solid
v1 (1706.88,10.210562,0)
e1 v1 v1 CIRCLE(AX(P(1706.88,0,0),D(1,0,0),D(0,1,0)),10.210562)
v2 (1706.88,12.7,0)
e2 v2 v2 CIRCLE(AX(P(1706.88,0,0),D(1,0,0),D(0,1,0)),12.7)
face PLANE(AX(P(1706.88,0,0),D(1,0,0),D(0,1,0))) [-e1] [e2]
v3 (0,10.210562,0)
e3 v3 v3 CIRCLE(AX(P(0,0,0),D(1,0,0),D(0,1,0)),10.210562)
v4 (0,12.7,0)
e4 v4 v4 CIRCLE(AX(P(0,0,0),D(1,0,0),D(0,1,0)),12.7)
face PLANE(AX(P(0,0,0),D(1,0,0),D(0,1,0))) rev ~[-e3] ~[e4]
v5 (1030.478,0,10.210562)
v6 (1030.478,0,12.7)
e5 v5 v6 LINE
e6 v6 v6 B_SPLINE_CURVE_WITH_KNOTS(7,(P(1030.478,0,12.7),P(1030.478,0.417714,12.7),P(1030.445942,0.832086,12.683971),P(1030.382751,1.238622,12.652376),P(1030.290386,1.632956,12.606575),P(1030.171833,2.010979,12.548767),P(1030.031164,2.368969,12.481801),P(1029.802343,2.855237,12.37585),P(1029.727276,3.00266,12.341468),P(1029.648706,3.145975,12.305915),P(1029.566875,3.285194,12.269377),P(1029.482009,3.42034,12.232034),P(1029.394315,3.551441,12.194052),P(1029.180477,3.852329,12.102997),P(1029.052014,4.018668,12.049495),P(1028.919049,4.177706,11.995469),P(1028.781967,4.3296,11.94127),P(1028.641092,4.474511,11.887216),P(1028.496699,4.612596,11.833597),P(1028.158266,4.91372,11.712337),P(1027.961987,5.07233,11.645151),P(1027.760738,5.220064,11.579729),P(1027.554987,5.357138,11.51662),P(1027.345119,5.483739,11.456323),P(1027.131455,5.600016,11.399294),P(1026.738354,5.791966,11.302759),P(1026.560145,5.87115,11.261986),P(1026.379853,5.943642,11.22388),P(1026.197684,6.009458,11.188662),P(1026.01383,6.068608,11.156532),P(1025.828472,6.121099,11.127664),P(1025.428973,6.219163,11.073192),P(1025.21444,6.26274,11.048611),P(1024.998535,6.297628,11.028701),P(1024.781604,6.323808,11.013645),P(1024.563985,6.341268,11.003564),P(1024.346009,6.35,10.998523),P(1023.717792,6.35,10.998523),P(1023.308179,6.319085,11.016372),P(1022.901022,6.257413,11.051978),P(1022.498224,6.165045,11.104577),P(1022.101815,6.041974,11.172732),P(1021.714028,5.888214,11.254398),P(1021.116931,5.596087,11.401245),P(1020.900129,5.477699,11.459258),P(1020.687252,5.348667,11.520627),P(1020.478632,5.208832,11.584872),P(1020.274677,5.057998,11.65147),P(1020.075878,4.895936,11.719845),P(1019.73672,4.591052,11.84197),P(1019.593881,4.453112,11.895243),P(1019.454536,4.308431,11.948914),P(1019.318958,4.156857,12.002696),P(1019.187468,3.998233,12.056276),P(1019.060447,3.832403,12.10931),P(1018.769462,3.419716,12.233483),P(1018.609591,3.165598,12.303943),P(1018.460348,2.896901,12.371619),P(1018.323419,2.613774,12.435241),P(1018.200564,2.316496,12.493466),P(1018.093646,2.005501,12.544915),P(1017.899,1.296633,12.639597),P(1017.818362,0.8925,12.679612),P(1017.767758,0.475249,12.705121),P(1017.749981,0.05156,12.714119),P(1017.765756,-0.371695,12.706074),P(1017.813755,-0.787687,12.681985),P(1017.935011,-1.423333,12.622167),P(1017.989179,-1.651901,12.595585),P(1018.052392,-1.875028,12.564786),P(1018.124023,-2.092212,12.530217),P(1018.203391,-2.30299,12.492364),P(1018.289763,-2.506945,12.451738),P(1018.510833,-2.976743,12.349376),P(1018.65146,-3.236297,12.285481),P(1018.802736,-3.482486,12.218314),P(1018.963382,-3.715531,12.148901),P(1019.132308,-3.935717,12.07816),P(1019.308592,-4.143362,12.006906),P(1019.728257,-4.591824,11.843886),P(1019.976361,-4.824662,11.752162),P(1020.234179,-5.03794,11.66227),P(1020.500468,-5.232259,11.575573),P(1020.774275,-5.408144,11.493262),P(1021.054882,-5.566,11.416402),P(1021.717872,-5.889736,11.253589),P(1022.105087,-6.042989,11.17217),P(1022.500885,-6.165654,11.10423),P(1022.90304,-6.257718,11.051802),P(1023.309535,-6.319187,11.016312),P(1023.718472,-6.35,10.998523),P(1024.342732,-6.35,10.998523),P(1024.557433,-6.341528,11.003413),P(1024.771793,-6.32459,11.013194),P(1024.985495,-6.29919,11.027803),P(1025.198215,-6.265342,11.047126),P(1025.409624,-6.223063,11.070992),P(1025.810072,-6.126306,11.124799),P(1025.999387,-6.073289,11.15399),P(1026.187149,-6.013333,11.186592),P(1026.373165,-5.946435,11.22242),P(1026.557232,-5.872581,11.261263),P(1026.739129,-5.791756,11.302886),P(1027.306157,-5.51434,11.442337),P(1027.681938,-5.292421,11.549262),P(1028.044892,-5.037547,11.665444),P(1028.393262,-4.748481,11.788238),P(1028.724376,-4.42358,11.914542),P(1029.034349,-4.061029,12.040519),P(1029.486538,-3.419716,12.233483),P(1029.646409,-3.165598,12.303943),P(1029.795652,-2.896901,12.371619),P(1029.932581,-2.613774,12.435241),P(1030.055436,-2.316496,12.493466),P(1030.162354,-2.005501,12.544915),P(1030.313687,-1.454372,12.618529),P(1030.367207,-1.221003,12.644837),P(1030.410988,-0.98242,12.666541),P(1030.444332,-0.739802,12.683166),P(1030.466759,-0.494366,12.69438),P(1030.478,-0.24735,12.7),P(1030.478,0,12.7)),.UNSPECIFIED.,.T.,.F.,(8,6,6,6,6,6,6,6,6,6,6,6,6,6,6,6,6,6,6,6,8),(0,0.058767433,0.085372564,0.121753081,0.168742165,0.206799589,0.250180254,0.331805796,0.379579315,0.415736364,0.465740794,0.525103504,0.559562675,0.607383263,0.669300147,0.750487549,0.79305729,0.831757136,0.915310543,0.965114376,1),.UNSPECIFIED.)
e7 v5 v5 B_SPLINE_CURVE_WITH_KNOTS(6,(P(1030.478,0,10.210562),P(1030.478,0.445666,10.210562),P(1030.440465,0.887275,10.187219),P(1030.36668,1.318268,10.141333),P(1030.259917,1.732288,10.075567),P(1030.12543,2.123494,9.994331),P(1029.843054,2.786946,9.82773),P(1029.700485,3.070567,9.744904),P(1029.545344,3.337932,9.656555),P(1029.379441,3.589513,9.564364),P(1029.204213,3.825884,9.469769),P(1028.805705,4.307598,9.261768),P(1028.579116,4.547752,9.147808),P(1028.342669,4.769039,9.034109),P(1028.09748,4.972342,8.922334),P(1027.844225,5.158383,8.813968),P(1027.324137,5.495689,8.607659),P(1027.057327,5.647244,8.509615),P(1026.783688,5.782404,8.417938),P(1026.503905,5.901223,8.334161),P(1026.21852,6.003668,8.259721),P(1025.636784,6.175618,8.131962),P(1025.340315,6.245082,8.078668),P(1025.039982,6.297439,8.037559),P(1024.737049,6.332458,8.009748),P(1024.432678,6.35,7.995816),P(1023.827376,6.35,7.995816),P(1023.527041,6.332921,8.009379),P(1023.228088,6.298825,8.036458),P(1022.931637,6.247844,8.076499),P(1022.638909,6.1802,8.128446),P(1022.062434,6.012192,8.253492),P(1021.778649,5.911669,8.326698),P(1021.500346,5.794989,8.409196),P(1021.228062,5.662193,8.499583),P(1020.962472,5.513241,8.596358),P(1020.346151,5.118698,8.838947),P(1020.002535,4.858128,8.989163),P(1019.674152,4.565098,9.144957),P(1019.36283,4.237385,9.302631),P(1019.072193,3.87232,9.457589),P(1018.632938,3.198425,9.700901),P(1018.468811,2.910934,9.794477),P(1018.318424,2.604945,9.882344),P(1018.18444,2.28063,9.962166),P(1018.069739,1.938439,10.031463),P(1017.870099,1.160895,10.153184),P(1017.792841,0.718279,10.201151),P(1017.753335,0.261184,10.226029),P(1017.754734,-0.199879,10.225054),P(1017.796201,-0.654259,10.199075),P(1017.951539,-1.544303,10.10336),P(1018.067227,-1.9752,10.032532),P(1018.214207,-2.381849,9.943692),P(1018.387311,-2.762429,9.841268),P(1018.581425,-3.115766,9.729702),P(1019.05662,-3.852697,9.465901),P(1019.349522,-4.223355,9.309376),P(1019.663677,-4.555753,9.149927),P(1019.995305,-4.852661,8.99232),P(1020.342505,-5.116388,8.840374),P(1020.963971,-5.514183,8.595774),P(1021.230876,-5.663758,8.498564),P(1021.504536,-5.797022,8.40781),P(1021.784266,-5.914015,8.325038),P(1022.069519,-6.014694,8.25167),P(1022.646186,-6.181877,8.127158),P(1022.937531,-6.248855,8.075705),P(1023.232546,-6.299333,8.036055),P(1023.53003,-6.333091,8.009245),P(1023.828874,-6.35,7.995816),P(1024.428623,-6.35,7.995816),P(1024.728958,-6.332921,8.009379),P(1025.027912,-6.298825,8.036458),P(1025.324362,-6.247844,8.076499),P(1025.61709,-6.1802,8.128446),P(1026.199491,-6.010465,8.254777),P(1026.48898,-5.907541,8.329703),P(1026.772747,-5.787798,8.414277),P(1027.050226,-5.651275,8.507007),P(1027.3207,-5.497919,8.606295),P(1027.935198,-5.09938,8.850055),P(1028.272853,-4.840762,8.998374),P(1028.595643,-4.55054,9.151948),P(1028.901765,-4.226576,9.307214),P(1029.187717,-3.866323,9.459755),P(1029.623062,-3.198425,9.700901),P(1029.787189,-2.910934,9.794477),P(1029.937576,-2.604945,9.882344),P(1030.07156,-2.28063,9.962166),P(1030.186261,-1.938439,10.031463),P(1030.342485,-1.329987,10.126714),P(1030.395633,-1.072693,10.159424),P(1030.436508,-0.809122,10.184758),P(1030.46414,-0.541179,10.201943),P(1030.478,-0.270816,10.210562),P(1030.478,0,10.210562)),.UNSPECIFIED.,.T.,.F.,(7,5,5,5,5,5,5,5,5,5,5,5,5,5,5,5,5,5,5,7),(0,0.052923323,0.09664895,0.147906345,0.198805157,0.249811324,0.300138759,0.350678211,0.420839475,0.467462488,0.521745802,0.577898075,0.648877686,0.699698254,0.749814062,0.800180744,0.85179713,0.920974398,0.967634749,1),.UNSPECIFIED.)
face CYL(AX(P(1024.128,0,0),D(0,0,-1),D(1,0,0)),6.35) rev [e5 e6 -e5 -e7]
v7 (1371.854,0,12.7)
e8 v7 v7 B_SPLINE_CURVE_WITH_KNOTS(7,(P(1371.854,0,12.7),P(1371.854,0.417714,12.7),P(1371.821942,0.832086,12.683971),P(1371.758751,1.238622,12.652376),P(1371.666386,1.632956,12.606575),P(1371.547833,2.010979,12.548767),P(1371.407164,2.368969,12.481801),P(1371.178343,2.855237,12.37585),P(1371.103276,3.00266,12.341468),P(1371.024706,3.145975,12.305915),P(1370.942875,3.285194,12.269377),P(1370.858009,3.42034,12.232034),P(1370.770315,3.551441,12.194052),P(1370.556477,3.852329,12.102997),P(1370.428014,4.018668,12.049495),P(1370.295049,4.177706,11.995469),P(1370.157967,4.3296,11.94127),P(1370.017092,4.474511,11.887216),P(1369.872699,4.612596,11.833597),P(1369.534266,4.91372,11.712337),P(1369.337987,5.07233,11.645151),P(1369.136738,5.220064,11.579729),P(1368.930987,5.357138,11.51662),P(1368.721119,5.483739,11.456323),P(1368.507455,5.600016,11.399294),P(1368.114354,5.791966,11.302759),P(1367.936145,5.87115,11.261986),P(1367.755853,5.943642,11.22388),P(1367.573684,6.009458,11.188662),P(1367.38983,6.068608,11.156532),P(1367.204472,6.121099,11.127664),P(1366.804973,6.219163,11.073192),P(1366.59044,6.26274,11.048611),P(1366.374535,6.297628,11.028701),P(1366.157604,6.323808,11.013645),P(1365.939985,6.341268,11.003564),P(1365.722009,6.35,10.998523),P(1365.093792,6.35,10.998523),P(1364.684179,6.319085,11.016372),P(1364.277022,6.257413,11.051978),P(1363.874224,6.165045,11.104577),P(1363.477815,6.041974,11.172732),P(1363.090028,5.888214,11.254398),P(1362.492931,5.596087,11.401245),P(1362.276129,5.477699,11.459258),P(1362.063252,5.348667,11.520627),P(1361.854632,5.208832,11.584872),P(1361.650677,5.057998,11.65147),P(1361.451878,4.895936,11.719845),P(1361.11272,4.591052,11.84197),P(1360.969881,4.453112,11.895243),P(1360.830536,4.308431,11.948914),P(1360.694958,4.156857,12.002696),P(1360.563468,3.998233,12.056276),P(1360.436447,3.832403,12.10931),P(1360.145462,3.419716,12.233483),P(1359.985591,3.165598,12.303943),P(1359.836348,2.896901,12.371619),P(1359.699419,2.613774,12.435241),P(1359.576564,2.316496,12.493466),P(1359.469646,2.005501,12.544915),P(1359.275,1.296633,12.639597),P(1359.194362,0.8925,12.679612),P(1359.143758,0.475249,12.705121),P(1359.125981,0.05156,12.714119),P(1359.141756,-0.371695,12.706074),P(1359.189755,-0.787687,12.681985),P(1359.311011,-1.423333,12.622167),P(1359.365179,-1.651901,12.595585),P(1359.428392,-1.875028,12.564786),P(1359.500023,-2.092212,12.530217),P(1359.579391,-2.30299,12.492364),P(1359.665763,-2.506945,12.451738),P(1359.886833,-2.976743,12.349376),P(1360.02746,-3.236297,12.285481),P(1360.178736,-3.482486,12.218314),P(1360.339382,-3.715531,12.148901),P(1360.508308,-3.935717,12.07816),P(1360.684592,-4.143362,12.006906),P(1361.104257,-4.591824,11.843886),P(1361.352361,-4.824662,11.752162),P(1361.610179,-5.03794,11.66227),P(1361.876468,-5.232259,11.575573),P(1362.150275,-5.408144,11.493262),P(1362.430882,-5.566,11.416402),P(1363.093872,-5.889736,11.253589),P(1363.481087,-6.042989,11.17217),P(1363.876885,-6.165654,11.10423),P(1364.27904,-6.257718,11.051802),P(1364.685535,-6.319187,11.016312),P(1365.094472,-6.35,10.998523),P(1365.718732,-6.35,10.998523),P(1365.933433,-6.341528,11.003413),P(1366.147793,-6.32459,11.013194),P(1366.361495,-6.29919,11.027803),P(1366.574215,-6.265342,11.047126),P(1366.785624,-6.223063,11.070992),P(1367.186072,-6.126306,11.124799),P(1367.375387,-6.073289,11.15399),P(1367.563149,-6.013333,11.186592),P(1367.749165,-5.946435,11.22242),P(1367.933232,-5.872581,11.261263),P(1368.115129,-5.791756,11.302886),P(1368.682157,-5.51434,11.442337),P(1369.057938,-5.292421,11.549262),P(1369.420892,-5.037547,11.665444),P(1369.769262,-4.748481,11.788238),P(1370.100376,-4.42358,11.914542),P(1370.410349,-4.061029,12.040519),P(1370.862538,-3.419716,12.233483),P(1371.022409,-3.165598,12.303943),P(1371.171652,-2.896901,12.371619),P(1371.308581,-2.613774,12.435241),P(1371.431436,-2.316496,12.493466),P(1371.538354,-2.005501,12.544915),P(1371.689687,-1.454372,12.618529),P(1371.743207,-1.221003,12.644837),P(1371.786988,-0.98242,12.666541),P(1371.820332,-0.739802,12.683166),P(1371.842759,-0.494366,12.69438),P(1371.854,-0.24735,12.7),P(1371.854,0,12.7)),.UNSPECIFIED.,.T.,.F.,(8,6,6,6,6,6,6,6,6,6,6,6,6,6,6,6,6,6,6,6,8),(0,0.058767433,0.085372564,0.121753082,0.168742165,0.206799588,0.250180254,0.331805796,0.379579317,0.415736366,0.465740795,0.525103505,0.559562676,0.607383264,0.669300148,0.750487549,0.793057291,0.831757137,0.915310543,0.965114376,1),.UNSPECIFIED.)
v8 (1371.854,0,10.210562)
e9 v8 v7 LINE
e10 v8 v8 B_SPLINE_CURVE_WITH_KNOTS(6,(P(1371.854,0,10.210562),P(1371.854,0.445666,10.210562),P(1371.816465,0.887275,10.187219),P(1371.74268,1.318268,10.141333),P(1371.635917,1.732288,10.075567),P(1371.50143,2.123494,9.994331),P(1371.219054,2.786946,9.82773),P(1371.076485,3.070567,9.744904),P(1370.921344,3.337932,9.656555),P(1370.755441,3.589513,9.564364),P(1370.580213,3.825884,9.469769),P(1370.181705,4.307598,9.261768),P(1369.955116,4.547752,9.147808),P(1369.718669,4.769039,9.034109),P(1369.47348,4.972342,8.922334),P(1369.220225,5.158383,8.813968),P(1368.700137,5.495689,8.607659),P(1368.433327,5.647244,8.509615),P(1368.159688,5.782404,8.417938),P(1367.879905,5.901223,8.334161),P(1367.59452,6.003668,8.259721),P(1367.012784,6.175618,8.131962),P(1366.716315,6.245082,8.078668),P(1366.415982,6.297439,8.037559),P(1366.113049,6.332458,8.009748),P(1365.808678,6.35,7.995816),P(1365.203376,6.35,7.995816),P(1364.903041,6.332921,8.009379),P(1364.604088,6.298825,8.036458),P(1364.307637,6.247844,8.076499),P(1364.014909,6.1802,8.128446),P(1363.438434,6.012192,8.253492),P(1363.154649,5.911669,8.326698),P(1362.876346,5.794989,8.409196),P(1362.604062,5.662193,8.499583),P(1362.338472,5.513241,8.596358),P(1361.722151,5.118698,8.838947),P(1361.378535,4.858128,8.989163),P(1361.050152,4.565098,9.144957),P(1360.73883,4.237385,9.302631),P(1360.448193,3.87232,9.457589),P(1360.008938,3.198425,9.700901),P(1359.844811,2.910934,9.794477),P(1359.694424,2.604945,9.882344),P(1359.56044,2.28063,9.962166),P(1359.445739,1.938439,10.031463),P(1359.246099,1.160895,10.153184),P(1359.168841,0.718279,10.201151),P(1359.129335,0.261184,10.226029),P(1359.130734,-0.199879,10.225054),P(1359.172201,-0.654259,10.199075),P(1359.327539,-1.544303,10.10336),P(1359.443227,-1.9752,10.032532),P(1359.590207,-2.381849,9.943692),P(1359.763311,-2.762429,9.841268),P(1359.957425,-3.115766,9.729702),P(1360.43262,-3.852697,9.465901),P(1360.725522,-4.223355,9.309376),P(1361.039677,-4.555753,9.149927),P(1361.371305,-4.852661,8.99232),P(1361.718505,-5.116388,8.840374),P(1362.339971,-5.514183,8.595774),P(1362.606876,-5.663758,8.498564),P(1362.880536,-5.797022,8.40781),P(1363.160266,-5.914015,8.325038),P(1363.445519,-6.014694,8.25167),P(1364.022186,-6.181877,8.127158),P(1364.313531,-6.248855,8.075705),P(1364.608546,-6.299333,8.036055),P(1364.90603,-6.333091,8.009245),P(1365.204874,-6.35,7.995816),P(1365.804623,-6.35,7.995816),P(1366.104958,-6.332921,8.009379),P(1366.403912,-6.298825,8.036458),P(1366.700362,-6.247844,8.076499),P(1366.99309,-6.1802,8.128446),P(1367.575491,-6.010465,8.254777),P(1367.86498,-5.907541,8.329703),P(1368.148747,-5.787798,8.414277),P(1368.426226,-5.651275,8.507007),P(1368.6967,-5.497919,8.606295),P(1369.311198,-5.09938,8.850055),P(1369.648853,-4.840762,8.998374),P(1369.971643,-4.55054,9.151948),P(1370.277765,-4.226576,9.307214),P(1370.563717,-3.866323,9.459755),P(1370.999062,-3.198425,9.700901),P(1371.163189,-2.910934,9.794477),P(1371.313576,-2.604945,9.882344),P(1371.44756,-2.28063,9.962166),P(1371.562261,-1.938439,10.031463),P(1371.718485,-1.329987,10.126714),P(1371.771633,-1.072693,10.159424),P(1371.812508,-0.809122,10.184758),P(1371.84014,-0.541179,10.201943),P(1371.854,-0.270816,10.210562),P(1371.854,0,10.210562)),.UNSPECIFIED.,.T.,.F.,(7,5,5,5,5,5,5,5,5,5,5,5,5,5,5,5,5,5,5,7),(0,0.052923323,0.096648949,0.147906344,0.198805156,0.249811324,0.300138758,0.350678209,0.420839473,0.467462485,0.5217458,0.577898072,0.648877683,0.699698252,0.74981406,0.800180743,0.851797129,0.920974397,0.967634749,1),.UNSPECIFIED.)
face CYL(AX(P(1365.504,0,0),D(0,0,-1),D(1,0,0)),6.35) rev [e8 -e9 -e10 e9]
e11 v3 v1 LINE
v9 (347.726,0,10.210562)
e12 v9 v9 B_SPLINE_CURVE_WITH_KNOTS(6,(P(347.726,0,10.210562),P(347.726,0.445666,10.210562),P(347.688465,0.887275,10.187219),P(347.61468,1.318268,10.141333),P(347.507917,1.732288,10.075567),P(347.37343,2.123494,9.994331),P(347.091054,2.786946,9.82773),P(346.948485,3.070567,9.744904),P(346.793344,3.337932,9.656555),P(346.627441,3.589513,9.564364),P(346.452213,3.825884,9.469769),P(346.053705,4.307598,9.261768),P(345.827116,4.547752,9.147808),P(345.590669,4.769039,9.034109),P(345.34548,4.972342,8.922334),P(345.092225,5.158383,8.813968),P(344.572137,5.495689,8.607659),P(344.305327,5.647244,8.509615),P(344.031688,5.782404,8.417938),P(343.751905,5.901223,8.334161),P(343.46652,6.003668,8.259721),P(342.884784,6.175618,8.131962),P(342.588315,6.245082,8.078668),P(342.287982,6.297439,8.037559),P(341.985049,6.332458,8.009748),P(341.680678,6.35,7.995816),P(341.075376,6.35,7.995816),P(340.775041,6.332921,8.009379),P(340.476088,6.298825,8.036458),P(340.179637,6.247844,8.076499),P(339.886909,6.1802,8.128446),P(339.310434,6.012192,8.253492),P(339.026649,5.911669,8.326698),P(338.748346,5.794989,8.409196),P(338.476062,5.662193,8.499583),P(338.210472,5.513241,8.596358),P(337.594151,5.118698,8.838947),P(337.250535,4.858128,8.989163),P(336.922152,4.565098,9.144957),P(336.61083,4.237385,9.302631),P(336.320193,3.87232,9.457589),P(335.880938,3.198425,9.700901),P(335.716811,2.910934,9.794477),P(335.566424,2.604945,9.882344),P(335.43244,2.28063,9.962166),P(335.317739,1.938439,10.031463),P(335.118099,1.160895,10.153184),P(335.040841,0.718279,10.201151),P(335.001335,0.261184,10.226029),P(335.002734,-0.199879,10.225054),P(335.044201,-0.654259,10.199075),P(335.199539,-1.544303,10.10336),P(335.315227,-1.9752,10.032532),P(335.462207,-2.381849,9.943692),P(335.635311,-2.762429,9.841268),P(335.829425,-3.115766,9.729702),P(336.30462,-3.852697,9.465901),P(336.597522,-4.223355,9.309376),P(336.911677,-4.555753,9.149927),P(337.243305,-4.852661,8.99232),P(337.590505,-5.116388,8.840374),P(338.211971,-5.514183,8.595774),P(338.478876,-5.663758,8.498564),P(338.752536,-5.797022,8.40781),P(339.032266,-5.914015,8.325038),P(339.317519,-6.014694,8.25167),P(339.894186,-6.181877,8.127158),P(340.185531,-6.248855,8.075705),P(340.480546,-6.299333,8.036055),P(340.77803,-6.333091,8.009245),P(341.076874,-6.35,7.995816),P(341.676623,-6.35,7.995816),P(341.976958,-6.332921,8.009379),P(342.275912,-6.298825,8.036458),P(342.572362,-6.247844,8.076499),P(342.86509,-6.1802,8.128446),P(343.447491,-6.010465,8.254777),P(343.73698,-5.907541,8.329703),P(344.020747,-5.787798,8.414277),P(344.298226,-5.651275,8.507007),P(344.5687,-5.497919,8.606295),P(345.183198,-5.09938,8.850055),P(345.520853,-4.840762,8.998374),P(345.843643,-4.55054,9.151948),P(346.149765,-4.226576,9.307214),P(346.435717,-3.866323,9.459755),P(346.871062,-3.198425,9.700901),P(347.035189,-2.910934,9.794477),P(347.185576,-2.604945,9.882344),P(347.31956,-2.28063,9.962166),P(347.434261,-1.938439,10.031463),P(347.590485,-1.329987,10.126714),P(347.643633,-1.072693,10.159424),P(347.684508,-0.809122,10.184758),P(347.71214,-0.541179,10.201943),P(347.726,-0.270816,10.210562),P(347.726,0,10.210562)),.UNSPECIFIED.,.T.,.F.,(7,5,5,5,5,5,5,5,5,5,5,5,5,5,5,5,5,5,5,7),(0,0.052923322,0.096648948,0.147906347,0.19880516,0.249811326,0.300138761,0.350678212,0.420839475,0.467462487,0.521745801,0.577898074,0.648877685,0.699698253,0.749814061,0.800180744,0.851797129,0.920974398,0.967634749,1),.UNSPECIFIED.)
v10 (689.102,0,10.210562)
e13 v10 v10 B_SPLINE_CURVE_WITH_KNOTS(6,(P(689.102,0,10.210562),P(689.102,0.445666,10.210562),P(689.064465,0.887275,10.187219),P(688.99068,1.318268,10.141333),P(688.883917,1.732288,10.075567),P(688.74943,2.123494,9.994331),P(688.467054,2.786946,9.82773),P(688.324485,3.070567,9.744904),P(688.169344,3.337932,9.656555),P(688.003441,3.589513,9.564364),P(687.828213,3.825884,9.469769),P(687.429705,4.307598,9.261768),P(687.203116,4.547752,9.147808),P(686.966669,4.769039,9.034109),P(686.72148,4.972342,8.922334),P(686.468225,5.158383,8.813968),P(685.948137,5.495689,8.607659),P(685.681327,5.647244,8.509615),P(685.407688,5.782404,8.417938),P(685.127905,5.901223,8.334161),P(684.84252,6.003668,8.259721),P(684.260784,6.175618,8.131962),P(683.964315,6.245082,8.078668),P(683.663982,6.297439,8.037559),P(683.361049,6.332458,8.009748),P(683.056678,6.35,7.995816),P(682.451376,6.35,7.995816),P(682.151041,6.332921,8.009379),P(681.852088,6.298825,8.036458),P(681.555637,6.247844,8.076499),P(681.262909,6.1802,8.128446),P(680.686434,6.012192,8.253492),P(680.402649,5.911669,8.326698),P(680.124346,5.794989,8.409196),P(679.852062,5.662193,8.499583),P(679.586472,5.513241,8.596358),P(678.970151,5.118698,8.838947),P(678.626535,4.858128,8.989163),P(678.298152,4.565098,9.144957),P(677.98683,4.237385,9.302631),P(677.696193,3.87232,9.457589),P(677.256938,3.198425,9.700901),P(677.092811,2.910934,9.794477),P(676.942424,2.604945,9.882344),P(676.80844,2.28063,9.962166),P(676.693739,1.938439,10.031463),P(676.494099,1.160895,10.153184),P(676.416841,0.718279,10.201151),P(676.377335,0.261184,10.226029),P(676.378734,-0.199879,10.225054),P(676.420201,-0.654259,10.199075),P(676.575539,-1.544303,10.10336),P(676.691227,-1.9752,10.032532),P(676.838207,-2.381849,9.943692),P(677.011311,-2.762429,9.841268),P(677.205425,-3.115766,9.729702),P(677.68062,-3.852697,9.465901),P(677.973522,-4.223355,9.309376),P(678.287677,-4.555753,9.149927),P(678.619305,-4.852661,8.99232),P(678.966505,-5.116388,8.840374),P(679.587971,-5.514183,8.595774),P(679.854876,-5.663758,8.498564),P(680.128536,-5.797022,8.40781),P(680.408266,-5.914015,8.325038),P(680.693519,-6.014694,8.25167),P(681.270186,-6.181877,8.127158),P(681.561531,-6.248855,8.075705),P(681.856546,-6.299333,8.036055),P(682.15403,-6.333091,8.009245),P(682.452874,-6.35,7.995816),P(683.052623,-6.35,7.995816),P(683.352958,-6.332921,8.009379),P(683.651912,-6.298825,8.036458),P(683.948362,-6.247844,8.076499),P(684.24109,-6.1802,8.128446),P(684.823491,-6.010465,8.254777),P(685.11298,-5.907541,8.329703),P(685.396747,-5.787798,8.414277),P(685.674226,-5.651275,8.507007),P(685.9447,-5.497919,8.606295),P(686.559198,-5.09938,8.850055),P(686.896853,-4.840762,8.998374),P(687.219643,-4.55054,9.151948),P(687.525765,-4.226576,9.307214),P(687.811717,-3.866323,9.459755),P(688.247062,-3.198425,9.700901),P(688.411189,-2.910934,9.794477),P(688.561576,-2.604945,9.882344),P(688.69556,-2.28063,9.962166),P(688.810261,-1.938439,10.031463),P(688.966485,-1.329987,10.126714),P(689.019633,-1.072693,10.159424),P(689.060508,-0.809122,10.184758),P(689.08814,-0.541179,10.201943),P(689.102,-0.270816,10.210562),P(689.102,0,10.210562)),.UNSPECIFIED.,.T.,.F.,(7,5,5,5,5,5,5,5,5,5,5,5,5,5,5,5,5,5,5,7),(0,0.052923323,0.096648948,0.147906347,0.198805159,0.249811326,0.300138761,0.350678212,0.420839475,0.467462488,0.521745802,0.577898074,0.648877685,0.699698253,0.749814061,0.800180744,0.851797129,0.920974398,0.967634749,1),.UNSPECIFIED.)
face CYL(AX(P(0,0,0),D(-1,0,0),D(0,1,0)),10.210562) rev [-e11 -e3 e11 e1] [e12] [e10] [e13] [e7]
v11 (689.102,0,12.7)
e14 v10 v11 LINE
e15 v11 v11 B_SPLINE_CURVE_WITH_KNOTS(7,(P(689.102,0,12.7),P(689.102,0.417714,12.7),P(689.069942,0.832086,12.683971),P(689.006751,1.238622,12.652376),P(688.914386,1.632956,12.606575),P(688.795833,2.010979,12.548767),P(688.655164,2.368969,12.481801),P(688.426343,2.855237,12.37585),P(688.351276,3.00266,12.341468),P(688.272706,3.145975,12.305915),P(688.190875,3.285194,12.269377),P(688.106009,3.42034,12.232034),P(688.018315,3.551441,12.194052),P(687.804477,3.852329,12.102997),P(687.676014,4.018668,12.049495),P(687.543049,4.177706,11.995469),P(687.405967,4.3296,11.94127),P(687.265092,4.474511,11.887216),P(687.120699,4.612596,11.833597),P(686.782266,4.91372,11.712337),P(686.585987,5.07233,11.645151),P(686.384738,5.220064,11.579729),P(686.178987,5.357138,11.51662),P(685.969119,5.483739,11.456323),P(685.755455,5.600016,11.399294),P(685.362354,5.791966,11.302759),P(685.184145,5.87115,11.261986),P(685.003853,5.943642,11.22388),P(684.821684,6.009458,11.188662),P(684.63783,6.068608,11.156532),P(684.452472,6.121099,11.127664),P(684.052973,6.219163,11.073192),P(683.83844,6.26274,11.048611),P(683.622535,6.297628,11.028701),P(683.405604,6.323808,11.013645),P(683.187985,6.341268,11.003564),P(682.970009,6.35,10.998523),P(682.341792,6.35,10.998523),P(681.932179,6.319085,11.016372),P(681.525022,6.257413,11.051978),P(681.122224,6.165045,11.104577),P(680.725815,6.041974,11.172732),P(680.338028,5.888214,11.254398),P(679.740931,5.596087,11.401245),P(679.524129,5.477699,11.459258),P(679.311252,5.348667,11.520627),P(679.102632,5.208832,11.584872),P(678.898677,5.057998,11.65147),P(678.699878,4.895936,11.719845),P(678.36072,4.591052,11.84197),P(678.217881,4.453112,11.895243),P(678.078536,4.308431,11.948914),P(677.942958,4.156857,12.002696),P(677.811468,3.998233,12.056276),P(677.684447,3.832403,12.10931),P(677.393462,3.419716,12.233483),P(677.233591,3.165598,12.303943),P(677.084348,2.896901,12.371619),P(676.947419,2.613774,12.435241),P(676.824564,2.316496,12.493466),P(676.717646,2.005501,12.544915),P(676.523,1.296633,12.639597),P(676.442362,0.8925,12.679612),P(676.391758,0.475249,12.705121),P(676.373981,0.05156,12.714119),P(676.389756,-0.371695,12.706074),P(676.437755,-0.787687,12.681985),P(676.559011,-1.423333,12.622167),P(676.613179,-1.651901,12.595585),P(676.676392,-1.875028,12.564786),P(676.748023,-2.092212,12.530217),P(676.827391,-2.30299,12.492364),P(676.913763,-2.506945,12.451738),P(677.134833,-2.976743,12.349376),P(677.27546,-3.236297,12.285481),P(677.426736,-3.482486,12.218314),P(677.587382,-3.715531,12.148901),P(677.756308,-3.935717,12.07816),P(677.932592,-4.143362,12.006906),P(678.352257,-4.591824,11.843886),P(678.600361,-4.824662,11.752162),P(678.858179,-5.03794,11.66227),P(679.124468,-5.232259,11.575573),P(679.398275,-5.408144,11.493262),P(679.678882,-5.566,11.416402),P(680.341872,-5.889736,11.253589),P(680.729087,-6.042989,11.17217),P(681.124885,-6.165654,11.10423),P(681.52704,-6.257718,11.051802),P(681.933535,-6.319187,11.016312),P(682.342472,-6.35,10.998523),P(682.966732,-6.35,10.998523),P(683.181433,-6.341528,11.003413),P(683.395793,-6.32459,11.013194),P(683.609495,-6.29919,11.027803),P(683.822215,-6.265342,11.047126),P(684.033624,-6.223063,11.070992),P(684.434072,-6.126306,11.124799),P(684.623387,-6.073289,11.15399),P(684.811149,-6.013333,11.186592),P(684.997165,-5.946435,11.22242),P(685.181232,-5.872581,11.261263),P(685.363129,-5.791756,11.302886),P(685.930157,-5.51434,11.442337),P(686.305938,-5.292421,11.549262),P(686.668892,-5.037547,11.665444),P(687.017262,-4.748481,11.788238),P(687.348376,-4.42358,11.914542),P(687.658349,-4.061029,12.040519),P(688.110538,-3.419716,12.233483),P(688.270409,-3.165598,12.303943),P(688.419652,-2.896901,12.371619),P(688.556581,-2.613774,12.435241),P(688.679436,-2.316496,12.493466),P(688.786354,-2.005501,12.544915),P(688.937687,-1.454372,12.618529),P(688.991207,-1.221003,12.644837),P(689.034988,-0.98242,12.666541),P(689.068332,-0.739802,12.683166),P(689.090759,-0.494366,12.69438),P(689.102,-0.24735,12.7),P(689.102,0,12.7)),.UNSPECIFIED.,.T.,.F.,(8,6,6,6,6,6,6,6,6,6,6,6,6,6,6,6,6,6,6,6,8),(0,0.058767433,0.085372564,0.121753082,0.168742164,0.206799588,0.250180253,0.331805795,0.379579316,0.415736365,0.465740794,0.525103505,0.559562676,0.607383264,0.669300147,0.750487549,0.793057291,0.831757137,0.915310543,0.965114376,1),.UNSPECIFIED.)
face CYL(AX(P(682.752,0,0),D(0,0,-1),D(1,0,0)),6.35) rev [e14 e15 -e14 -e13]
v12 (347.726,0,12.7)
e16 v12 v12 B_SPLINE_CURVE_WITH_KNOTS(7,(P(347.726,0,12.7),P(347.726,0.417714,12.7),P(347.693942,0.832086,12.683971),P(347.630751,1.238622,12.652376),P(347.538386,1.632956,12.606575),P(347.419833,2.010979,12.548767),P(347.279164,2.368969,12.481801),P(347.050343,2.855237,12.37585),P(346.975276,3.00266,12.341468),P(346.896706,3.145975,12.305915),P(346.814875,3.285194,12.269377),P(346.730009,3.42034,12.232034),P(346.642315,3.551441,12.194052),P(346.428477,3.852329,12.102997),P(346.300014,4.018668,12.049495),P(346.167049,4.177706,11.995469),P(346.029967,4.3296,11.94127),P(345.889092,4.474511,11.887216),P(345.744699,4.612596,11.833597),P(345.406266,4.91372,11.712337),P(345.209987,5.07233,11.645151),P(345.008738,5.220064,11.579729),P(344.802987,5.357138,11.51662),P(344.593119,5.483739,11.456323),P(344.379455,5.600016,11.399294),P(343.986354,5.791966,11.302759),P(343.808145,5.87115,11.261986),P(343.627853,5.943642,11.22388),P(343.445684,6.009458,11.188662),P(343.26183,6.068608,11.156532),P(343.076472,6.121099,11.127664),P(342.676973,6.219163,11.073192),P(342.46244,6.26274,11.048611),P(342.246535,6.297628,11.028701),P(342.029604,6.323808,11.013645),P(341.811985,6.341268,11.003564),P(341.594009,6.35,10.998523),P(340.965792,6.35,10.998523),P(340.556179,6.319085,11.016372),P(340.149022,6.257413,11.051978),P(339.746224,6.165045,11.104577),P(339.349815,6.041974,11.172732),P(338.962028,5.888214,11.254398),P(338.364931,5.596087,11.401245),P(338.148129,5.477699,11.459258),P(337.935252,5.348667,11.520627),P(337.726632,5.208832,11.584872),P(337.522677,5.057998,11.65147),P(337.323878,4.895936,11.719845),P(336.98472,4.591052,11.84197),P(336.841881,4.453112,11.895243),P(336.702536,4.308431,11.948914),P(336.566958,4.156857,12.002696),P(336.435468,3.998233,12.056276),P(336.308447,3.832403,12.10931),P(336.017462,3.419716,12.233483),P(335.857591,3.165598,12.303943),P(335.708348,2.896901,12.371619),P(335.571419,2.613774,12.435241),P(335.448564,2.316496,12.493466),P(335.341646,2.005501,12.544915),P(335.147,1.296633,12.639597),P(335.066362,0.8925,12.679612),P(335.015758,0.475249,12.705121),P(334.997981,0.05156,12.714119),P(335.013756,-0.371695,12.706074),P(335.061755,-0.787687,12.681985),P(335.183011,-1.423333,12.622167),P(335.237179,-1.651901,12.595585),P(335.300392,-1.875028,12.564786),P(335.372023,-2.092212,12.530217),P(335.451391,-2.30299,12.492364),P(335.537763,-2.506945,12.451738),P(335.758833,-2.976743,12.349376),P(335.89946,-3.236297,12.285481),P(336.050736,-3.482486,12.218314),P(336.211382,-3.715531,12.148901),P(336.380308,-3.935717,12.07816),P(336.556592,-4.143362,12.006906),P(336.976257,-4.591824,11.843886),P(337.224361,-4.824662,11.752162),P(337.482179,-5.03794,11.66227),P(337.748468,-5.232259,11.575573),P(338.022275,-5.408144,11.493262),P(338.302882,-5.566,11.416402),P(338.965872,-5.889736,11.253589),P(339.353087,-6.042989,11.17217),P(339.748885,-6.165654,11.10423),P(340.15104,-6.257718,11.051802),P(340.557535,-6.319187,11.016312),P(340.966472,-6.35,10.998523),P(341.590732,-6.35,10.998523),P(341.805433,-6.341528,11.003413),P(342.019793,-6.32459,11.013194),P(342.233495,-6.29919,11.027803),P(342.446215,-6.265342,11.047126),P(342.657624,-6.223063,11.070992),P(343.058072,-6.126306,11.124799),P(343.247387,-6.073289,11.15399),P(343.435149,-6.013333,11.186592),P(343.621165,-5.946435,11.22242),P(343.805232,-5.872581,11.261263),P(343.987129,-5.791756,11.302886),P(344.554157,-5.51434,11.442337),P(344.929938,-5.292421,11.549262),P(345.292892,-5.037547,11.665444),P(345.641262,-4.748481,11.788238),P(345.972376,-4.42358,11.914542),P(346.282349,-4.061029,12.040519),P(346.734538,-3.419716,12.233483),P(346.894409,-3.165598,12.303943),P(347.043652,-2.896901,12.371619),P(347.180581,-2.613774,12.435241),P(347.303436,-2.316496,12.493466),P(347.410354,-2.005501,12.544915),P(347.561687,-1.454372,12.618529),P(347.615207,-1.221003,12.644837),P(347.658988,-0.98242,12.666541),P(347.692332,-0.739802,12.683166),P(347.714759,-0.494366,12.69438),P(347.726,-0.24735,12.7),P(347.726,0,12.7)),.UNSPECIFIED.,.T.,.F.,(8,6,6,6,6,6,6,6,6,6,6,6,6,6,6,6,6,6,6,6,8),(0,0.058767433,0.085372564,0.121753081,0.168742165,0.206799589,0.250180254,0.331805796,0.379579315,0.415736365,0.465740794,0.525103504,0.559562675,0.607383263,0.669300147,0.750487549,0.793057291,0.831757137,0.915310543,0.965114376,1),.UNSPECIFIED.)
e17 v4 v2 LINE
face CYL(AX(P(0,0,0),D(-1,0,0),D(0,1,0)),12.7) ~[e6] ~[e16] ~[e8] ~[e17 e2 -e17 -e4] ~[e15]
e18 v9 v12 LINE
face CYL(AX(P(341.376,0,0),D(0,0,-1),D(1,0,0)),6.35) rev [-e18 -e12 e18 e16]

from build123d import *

# Parameters (mm, degrees)
F0_R     = 12.7
F0_R_2   = 10.210562
F1_DEPTH = 1706.88
F2_R     = 6.35
F3_DEPTH = 25.4


with BuildPart() as f1:
    # F0 (on Right) → F1 (new body)
    with BuildSketch(Plane.YZ):
        Circle(F0_R)
        Circle(F0_R_2, mode=Mode.SUBTRACT)
    extrude(amount=F1_DEPTH)

    # F2 (on Top) → F3 (cut)
    with BuildSketch(Plane.XY):
        with Locations((341.376, 0)):
            Circle(F2_R)
        with Locations((682.752, 0)):
            Circle(F2_R)
        with Locations((1024.128, 0)):
            Circle(F2_R)
        with Locations((1365.504, 0)):
            Circle(F2_R)
    extrude(amount=F3_DEPTH, mode=Mode.SUBTRACT)


solid = f1.part
